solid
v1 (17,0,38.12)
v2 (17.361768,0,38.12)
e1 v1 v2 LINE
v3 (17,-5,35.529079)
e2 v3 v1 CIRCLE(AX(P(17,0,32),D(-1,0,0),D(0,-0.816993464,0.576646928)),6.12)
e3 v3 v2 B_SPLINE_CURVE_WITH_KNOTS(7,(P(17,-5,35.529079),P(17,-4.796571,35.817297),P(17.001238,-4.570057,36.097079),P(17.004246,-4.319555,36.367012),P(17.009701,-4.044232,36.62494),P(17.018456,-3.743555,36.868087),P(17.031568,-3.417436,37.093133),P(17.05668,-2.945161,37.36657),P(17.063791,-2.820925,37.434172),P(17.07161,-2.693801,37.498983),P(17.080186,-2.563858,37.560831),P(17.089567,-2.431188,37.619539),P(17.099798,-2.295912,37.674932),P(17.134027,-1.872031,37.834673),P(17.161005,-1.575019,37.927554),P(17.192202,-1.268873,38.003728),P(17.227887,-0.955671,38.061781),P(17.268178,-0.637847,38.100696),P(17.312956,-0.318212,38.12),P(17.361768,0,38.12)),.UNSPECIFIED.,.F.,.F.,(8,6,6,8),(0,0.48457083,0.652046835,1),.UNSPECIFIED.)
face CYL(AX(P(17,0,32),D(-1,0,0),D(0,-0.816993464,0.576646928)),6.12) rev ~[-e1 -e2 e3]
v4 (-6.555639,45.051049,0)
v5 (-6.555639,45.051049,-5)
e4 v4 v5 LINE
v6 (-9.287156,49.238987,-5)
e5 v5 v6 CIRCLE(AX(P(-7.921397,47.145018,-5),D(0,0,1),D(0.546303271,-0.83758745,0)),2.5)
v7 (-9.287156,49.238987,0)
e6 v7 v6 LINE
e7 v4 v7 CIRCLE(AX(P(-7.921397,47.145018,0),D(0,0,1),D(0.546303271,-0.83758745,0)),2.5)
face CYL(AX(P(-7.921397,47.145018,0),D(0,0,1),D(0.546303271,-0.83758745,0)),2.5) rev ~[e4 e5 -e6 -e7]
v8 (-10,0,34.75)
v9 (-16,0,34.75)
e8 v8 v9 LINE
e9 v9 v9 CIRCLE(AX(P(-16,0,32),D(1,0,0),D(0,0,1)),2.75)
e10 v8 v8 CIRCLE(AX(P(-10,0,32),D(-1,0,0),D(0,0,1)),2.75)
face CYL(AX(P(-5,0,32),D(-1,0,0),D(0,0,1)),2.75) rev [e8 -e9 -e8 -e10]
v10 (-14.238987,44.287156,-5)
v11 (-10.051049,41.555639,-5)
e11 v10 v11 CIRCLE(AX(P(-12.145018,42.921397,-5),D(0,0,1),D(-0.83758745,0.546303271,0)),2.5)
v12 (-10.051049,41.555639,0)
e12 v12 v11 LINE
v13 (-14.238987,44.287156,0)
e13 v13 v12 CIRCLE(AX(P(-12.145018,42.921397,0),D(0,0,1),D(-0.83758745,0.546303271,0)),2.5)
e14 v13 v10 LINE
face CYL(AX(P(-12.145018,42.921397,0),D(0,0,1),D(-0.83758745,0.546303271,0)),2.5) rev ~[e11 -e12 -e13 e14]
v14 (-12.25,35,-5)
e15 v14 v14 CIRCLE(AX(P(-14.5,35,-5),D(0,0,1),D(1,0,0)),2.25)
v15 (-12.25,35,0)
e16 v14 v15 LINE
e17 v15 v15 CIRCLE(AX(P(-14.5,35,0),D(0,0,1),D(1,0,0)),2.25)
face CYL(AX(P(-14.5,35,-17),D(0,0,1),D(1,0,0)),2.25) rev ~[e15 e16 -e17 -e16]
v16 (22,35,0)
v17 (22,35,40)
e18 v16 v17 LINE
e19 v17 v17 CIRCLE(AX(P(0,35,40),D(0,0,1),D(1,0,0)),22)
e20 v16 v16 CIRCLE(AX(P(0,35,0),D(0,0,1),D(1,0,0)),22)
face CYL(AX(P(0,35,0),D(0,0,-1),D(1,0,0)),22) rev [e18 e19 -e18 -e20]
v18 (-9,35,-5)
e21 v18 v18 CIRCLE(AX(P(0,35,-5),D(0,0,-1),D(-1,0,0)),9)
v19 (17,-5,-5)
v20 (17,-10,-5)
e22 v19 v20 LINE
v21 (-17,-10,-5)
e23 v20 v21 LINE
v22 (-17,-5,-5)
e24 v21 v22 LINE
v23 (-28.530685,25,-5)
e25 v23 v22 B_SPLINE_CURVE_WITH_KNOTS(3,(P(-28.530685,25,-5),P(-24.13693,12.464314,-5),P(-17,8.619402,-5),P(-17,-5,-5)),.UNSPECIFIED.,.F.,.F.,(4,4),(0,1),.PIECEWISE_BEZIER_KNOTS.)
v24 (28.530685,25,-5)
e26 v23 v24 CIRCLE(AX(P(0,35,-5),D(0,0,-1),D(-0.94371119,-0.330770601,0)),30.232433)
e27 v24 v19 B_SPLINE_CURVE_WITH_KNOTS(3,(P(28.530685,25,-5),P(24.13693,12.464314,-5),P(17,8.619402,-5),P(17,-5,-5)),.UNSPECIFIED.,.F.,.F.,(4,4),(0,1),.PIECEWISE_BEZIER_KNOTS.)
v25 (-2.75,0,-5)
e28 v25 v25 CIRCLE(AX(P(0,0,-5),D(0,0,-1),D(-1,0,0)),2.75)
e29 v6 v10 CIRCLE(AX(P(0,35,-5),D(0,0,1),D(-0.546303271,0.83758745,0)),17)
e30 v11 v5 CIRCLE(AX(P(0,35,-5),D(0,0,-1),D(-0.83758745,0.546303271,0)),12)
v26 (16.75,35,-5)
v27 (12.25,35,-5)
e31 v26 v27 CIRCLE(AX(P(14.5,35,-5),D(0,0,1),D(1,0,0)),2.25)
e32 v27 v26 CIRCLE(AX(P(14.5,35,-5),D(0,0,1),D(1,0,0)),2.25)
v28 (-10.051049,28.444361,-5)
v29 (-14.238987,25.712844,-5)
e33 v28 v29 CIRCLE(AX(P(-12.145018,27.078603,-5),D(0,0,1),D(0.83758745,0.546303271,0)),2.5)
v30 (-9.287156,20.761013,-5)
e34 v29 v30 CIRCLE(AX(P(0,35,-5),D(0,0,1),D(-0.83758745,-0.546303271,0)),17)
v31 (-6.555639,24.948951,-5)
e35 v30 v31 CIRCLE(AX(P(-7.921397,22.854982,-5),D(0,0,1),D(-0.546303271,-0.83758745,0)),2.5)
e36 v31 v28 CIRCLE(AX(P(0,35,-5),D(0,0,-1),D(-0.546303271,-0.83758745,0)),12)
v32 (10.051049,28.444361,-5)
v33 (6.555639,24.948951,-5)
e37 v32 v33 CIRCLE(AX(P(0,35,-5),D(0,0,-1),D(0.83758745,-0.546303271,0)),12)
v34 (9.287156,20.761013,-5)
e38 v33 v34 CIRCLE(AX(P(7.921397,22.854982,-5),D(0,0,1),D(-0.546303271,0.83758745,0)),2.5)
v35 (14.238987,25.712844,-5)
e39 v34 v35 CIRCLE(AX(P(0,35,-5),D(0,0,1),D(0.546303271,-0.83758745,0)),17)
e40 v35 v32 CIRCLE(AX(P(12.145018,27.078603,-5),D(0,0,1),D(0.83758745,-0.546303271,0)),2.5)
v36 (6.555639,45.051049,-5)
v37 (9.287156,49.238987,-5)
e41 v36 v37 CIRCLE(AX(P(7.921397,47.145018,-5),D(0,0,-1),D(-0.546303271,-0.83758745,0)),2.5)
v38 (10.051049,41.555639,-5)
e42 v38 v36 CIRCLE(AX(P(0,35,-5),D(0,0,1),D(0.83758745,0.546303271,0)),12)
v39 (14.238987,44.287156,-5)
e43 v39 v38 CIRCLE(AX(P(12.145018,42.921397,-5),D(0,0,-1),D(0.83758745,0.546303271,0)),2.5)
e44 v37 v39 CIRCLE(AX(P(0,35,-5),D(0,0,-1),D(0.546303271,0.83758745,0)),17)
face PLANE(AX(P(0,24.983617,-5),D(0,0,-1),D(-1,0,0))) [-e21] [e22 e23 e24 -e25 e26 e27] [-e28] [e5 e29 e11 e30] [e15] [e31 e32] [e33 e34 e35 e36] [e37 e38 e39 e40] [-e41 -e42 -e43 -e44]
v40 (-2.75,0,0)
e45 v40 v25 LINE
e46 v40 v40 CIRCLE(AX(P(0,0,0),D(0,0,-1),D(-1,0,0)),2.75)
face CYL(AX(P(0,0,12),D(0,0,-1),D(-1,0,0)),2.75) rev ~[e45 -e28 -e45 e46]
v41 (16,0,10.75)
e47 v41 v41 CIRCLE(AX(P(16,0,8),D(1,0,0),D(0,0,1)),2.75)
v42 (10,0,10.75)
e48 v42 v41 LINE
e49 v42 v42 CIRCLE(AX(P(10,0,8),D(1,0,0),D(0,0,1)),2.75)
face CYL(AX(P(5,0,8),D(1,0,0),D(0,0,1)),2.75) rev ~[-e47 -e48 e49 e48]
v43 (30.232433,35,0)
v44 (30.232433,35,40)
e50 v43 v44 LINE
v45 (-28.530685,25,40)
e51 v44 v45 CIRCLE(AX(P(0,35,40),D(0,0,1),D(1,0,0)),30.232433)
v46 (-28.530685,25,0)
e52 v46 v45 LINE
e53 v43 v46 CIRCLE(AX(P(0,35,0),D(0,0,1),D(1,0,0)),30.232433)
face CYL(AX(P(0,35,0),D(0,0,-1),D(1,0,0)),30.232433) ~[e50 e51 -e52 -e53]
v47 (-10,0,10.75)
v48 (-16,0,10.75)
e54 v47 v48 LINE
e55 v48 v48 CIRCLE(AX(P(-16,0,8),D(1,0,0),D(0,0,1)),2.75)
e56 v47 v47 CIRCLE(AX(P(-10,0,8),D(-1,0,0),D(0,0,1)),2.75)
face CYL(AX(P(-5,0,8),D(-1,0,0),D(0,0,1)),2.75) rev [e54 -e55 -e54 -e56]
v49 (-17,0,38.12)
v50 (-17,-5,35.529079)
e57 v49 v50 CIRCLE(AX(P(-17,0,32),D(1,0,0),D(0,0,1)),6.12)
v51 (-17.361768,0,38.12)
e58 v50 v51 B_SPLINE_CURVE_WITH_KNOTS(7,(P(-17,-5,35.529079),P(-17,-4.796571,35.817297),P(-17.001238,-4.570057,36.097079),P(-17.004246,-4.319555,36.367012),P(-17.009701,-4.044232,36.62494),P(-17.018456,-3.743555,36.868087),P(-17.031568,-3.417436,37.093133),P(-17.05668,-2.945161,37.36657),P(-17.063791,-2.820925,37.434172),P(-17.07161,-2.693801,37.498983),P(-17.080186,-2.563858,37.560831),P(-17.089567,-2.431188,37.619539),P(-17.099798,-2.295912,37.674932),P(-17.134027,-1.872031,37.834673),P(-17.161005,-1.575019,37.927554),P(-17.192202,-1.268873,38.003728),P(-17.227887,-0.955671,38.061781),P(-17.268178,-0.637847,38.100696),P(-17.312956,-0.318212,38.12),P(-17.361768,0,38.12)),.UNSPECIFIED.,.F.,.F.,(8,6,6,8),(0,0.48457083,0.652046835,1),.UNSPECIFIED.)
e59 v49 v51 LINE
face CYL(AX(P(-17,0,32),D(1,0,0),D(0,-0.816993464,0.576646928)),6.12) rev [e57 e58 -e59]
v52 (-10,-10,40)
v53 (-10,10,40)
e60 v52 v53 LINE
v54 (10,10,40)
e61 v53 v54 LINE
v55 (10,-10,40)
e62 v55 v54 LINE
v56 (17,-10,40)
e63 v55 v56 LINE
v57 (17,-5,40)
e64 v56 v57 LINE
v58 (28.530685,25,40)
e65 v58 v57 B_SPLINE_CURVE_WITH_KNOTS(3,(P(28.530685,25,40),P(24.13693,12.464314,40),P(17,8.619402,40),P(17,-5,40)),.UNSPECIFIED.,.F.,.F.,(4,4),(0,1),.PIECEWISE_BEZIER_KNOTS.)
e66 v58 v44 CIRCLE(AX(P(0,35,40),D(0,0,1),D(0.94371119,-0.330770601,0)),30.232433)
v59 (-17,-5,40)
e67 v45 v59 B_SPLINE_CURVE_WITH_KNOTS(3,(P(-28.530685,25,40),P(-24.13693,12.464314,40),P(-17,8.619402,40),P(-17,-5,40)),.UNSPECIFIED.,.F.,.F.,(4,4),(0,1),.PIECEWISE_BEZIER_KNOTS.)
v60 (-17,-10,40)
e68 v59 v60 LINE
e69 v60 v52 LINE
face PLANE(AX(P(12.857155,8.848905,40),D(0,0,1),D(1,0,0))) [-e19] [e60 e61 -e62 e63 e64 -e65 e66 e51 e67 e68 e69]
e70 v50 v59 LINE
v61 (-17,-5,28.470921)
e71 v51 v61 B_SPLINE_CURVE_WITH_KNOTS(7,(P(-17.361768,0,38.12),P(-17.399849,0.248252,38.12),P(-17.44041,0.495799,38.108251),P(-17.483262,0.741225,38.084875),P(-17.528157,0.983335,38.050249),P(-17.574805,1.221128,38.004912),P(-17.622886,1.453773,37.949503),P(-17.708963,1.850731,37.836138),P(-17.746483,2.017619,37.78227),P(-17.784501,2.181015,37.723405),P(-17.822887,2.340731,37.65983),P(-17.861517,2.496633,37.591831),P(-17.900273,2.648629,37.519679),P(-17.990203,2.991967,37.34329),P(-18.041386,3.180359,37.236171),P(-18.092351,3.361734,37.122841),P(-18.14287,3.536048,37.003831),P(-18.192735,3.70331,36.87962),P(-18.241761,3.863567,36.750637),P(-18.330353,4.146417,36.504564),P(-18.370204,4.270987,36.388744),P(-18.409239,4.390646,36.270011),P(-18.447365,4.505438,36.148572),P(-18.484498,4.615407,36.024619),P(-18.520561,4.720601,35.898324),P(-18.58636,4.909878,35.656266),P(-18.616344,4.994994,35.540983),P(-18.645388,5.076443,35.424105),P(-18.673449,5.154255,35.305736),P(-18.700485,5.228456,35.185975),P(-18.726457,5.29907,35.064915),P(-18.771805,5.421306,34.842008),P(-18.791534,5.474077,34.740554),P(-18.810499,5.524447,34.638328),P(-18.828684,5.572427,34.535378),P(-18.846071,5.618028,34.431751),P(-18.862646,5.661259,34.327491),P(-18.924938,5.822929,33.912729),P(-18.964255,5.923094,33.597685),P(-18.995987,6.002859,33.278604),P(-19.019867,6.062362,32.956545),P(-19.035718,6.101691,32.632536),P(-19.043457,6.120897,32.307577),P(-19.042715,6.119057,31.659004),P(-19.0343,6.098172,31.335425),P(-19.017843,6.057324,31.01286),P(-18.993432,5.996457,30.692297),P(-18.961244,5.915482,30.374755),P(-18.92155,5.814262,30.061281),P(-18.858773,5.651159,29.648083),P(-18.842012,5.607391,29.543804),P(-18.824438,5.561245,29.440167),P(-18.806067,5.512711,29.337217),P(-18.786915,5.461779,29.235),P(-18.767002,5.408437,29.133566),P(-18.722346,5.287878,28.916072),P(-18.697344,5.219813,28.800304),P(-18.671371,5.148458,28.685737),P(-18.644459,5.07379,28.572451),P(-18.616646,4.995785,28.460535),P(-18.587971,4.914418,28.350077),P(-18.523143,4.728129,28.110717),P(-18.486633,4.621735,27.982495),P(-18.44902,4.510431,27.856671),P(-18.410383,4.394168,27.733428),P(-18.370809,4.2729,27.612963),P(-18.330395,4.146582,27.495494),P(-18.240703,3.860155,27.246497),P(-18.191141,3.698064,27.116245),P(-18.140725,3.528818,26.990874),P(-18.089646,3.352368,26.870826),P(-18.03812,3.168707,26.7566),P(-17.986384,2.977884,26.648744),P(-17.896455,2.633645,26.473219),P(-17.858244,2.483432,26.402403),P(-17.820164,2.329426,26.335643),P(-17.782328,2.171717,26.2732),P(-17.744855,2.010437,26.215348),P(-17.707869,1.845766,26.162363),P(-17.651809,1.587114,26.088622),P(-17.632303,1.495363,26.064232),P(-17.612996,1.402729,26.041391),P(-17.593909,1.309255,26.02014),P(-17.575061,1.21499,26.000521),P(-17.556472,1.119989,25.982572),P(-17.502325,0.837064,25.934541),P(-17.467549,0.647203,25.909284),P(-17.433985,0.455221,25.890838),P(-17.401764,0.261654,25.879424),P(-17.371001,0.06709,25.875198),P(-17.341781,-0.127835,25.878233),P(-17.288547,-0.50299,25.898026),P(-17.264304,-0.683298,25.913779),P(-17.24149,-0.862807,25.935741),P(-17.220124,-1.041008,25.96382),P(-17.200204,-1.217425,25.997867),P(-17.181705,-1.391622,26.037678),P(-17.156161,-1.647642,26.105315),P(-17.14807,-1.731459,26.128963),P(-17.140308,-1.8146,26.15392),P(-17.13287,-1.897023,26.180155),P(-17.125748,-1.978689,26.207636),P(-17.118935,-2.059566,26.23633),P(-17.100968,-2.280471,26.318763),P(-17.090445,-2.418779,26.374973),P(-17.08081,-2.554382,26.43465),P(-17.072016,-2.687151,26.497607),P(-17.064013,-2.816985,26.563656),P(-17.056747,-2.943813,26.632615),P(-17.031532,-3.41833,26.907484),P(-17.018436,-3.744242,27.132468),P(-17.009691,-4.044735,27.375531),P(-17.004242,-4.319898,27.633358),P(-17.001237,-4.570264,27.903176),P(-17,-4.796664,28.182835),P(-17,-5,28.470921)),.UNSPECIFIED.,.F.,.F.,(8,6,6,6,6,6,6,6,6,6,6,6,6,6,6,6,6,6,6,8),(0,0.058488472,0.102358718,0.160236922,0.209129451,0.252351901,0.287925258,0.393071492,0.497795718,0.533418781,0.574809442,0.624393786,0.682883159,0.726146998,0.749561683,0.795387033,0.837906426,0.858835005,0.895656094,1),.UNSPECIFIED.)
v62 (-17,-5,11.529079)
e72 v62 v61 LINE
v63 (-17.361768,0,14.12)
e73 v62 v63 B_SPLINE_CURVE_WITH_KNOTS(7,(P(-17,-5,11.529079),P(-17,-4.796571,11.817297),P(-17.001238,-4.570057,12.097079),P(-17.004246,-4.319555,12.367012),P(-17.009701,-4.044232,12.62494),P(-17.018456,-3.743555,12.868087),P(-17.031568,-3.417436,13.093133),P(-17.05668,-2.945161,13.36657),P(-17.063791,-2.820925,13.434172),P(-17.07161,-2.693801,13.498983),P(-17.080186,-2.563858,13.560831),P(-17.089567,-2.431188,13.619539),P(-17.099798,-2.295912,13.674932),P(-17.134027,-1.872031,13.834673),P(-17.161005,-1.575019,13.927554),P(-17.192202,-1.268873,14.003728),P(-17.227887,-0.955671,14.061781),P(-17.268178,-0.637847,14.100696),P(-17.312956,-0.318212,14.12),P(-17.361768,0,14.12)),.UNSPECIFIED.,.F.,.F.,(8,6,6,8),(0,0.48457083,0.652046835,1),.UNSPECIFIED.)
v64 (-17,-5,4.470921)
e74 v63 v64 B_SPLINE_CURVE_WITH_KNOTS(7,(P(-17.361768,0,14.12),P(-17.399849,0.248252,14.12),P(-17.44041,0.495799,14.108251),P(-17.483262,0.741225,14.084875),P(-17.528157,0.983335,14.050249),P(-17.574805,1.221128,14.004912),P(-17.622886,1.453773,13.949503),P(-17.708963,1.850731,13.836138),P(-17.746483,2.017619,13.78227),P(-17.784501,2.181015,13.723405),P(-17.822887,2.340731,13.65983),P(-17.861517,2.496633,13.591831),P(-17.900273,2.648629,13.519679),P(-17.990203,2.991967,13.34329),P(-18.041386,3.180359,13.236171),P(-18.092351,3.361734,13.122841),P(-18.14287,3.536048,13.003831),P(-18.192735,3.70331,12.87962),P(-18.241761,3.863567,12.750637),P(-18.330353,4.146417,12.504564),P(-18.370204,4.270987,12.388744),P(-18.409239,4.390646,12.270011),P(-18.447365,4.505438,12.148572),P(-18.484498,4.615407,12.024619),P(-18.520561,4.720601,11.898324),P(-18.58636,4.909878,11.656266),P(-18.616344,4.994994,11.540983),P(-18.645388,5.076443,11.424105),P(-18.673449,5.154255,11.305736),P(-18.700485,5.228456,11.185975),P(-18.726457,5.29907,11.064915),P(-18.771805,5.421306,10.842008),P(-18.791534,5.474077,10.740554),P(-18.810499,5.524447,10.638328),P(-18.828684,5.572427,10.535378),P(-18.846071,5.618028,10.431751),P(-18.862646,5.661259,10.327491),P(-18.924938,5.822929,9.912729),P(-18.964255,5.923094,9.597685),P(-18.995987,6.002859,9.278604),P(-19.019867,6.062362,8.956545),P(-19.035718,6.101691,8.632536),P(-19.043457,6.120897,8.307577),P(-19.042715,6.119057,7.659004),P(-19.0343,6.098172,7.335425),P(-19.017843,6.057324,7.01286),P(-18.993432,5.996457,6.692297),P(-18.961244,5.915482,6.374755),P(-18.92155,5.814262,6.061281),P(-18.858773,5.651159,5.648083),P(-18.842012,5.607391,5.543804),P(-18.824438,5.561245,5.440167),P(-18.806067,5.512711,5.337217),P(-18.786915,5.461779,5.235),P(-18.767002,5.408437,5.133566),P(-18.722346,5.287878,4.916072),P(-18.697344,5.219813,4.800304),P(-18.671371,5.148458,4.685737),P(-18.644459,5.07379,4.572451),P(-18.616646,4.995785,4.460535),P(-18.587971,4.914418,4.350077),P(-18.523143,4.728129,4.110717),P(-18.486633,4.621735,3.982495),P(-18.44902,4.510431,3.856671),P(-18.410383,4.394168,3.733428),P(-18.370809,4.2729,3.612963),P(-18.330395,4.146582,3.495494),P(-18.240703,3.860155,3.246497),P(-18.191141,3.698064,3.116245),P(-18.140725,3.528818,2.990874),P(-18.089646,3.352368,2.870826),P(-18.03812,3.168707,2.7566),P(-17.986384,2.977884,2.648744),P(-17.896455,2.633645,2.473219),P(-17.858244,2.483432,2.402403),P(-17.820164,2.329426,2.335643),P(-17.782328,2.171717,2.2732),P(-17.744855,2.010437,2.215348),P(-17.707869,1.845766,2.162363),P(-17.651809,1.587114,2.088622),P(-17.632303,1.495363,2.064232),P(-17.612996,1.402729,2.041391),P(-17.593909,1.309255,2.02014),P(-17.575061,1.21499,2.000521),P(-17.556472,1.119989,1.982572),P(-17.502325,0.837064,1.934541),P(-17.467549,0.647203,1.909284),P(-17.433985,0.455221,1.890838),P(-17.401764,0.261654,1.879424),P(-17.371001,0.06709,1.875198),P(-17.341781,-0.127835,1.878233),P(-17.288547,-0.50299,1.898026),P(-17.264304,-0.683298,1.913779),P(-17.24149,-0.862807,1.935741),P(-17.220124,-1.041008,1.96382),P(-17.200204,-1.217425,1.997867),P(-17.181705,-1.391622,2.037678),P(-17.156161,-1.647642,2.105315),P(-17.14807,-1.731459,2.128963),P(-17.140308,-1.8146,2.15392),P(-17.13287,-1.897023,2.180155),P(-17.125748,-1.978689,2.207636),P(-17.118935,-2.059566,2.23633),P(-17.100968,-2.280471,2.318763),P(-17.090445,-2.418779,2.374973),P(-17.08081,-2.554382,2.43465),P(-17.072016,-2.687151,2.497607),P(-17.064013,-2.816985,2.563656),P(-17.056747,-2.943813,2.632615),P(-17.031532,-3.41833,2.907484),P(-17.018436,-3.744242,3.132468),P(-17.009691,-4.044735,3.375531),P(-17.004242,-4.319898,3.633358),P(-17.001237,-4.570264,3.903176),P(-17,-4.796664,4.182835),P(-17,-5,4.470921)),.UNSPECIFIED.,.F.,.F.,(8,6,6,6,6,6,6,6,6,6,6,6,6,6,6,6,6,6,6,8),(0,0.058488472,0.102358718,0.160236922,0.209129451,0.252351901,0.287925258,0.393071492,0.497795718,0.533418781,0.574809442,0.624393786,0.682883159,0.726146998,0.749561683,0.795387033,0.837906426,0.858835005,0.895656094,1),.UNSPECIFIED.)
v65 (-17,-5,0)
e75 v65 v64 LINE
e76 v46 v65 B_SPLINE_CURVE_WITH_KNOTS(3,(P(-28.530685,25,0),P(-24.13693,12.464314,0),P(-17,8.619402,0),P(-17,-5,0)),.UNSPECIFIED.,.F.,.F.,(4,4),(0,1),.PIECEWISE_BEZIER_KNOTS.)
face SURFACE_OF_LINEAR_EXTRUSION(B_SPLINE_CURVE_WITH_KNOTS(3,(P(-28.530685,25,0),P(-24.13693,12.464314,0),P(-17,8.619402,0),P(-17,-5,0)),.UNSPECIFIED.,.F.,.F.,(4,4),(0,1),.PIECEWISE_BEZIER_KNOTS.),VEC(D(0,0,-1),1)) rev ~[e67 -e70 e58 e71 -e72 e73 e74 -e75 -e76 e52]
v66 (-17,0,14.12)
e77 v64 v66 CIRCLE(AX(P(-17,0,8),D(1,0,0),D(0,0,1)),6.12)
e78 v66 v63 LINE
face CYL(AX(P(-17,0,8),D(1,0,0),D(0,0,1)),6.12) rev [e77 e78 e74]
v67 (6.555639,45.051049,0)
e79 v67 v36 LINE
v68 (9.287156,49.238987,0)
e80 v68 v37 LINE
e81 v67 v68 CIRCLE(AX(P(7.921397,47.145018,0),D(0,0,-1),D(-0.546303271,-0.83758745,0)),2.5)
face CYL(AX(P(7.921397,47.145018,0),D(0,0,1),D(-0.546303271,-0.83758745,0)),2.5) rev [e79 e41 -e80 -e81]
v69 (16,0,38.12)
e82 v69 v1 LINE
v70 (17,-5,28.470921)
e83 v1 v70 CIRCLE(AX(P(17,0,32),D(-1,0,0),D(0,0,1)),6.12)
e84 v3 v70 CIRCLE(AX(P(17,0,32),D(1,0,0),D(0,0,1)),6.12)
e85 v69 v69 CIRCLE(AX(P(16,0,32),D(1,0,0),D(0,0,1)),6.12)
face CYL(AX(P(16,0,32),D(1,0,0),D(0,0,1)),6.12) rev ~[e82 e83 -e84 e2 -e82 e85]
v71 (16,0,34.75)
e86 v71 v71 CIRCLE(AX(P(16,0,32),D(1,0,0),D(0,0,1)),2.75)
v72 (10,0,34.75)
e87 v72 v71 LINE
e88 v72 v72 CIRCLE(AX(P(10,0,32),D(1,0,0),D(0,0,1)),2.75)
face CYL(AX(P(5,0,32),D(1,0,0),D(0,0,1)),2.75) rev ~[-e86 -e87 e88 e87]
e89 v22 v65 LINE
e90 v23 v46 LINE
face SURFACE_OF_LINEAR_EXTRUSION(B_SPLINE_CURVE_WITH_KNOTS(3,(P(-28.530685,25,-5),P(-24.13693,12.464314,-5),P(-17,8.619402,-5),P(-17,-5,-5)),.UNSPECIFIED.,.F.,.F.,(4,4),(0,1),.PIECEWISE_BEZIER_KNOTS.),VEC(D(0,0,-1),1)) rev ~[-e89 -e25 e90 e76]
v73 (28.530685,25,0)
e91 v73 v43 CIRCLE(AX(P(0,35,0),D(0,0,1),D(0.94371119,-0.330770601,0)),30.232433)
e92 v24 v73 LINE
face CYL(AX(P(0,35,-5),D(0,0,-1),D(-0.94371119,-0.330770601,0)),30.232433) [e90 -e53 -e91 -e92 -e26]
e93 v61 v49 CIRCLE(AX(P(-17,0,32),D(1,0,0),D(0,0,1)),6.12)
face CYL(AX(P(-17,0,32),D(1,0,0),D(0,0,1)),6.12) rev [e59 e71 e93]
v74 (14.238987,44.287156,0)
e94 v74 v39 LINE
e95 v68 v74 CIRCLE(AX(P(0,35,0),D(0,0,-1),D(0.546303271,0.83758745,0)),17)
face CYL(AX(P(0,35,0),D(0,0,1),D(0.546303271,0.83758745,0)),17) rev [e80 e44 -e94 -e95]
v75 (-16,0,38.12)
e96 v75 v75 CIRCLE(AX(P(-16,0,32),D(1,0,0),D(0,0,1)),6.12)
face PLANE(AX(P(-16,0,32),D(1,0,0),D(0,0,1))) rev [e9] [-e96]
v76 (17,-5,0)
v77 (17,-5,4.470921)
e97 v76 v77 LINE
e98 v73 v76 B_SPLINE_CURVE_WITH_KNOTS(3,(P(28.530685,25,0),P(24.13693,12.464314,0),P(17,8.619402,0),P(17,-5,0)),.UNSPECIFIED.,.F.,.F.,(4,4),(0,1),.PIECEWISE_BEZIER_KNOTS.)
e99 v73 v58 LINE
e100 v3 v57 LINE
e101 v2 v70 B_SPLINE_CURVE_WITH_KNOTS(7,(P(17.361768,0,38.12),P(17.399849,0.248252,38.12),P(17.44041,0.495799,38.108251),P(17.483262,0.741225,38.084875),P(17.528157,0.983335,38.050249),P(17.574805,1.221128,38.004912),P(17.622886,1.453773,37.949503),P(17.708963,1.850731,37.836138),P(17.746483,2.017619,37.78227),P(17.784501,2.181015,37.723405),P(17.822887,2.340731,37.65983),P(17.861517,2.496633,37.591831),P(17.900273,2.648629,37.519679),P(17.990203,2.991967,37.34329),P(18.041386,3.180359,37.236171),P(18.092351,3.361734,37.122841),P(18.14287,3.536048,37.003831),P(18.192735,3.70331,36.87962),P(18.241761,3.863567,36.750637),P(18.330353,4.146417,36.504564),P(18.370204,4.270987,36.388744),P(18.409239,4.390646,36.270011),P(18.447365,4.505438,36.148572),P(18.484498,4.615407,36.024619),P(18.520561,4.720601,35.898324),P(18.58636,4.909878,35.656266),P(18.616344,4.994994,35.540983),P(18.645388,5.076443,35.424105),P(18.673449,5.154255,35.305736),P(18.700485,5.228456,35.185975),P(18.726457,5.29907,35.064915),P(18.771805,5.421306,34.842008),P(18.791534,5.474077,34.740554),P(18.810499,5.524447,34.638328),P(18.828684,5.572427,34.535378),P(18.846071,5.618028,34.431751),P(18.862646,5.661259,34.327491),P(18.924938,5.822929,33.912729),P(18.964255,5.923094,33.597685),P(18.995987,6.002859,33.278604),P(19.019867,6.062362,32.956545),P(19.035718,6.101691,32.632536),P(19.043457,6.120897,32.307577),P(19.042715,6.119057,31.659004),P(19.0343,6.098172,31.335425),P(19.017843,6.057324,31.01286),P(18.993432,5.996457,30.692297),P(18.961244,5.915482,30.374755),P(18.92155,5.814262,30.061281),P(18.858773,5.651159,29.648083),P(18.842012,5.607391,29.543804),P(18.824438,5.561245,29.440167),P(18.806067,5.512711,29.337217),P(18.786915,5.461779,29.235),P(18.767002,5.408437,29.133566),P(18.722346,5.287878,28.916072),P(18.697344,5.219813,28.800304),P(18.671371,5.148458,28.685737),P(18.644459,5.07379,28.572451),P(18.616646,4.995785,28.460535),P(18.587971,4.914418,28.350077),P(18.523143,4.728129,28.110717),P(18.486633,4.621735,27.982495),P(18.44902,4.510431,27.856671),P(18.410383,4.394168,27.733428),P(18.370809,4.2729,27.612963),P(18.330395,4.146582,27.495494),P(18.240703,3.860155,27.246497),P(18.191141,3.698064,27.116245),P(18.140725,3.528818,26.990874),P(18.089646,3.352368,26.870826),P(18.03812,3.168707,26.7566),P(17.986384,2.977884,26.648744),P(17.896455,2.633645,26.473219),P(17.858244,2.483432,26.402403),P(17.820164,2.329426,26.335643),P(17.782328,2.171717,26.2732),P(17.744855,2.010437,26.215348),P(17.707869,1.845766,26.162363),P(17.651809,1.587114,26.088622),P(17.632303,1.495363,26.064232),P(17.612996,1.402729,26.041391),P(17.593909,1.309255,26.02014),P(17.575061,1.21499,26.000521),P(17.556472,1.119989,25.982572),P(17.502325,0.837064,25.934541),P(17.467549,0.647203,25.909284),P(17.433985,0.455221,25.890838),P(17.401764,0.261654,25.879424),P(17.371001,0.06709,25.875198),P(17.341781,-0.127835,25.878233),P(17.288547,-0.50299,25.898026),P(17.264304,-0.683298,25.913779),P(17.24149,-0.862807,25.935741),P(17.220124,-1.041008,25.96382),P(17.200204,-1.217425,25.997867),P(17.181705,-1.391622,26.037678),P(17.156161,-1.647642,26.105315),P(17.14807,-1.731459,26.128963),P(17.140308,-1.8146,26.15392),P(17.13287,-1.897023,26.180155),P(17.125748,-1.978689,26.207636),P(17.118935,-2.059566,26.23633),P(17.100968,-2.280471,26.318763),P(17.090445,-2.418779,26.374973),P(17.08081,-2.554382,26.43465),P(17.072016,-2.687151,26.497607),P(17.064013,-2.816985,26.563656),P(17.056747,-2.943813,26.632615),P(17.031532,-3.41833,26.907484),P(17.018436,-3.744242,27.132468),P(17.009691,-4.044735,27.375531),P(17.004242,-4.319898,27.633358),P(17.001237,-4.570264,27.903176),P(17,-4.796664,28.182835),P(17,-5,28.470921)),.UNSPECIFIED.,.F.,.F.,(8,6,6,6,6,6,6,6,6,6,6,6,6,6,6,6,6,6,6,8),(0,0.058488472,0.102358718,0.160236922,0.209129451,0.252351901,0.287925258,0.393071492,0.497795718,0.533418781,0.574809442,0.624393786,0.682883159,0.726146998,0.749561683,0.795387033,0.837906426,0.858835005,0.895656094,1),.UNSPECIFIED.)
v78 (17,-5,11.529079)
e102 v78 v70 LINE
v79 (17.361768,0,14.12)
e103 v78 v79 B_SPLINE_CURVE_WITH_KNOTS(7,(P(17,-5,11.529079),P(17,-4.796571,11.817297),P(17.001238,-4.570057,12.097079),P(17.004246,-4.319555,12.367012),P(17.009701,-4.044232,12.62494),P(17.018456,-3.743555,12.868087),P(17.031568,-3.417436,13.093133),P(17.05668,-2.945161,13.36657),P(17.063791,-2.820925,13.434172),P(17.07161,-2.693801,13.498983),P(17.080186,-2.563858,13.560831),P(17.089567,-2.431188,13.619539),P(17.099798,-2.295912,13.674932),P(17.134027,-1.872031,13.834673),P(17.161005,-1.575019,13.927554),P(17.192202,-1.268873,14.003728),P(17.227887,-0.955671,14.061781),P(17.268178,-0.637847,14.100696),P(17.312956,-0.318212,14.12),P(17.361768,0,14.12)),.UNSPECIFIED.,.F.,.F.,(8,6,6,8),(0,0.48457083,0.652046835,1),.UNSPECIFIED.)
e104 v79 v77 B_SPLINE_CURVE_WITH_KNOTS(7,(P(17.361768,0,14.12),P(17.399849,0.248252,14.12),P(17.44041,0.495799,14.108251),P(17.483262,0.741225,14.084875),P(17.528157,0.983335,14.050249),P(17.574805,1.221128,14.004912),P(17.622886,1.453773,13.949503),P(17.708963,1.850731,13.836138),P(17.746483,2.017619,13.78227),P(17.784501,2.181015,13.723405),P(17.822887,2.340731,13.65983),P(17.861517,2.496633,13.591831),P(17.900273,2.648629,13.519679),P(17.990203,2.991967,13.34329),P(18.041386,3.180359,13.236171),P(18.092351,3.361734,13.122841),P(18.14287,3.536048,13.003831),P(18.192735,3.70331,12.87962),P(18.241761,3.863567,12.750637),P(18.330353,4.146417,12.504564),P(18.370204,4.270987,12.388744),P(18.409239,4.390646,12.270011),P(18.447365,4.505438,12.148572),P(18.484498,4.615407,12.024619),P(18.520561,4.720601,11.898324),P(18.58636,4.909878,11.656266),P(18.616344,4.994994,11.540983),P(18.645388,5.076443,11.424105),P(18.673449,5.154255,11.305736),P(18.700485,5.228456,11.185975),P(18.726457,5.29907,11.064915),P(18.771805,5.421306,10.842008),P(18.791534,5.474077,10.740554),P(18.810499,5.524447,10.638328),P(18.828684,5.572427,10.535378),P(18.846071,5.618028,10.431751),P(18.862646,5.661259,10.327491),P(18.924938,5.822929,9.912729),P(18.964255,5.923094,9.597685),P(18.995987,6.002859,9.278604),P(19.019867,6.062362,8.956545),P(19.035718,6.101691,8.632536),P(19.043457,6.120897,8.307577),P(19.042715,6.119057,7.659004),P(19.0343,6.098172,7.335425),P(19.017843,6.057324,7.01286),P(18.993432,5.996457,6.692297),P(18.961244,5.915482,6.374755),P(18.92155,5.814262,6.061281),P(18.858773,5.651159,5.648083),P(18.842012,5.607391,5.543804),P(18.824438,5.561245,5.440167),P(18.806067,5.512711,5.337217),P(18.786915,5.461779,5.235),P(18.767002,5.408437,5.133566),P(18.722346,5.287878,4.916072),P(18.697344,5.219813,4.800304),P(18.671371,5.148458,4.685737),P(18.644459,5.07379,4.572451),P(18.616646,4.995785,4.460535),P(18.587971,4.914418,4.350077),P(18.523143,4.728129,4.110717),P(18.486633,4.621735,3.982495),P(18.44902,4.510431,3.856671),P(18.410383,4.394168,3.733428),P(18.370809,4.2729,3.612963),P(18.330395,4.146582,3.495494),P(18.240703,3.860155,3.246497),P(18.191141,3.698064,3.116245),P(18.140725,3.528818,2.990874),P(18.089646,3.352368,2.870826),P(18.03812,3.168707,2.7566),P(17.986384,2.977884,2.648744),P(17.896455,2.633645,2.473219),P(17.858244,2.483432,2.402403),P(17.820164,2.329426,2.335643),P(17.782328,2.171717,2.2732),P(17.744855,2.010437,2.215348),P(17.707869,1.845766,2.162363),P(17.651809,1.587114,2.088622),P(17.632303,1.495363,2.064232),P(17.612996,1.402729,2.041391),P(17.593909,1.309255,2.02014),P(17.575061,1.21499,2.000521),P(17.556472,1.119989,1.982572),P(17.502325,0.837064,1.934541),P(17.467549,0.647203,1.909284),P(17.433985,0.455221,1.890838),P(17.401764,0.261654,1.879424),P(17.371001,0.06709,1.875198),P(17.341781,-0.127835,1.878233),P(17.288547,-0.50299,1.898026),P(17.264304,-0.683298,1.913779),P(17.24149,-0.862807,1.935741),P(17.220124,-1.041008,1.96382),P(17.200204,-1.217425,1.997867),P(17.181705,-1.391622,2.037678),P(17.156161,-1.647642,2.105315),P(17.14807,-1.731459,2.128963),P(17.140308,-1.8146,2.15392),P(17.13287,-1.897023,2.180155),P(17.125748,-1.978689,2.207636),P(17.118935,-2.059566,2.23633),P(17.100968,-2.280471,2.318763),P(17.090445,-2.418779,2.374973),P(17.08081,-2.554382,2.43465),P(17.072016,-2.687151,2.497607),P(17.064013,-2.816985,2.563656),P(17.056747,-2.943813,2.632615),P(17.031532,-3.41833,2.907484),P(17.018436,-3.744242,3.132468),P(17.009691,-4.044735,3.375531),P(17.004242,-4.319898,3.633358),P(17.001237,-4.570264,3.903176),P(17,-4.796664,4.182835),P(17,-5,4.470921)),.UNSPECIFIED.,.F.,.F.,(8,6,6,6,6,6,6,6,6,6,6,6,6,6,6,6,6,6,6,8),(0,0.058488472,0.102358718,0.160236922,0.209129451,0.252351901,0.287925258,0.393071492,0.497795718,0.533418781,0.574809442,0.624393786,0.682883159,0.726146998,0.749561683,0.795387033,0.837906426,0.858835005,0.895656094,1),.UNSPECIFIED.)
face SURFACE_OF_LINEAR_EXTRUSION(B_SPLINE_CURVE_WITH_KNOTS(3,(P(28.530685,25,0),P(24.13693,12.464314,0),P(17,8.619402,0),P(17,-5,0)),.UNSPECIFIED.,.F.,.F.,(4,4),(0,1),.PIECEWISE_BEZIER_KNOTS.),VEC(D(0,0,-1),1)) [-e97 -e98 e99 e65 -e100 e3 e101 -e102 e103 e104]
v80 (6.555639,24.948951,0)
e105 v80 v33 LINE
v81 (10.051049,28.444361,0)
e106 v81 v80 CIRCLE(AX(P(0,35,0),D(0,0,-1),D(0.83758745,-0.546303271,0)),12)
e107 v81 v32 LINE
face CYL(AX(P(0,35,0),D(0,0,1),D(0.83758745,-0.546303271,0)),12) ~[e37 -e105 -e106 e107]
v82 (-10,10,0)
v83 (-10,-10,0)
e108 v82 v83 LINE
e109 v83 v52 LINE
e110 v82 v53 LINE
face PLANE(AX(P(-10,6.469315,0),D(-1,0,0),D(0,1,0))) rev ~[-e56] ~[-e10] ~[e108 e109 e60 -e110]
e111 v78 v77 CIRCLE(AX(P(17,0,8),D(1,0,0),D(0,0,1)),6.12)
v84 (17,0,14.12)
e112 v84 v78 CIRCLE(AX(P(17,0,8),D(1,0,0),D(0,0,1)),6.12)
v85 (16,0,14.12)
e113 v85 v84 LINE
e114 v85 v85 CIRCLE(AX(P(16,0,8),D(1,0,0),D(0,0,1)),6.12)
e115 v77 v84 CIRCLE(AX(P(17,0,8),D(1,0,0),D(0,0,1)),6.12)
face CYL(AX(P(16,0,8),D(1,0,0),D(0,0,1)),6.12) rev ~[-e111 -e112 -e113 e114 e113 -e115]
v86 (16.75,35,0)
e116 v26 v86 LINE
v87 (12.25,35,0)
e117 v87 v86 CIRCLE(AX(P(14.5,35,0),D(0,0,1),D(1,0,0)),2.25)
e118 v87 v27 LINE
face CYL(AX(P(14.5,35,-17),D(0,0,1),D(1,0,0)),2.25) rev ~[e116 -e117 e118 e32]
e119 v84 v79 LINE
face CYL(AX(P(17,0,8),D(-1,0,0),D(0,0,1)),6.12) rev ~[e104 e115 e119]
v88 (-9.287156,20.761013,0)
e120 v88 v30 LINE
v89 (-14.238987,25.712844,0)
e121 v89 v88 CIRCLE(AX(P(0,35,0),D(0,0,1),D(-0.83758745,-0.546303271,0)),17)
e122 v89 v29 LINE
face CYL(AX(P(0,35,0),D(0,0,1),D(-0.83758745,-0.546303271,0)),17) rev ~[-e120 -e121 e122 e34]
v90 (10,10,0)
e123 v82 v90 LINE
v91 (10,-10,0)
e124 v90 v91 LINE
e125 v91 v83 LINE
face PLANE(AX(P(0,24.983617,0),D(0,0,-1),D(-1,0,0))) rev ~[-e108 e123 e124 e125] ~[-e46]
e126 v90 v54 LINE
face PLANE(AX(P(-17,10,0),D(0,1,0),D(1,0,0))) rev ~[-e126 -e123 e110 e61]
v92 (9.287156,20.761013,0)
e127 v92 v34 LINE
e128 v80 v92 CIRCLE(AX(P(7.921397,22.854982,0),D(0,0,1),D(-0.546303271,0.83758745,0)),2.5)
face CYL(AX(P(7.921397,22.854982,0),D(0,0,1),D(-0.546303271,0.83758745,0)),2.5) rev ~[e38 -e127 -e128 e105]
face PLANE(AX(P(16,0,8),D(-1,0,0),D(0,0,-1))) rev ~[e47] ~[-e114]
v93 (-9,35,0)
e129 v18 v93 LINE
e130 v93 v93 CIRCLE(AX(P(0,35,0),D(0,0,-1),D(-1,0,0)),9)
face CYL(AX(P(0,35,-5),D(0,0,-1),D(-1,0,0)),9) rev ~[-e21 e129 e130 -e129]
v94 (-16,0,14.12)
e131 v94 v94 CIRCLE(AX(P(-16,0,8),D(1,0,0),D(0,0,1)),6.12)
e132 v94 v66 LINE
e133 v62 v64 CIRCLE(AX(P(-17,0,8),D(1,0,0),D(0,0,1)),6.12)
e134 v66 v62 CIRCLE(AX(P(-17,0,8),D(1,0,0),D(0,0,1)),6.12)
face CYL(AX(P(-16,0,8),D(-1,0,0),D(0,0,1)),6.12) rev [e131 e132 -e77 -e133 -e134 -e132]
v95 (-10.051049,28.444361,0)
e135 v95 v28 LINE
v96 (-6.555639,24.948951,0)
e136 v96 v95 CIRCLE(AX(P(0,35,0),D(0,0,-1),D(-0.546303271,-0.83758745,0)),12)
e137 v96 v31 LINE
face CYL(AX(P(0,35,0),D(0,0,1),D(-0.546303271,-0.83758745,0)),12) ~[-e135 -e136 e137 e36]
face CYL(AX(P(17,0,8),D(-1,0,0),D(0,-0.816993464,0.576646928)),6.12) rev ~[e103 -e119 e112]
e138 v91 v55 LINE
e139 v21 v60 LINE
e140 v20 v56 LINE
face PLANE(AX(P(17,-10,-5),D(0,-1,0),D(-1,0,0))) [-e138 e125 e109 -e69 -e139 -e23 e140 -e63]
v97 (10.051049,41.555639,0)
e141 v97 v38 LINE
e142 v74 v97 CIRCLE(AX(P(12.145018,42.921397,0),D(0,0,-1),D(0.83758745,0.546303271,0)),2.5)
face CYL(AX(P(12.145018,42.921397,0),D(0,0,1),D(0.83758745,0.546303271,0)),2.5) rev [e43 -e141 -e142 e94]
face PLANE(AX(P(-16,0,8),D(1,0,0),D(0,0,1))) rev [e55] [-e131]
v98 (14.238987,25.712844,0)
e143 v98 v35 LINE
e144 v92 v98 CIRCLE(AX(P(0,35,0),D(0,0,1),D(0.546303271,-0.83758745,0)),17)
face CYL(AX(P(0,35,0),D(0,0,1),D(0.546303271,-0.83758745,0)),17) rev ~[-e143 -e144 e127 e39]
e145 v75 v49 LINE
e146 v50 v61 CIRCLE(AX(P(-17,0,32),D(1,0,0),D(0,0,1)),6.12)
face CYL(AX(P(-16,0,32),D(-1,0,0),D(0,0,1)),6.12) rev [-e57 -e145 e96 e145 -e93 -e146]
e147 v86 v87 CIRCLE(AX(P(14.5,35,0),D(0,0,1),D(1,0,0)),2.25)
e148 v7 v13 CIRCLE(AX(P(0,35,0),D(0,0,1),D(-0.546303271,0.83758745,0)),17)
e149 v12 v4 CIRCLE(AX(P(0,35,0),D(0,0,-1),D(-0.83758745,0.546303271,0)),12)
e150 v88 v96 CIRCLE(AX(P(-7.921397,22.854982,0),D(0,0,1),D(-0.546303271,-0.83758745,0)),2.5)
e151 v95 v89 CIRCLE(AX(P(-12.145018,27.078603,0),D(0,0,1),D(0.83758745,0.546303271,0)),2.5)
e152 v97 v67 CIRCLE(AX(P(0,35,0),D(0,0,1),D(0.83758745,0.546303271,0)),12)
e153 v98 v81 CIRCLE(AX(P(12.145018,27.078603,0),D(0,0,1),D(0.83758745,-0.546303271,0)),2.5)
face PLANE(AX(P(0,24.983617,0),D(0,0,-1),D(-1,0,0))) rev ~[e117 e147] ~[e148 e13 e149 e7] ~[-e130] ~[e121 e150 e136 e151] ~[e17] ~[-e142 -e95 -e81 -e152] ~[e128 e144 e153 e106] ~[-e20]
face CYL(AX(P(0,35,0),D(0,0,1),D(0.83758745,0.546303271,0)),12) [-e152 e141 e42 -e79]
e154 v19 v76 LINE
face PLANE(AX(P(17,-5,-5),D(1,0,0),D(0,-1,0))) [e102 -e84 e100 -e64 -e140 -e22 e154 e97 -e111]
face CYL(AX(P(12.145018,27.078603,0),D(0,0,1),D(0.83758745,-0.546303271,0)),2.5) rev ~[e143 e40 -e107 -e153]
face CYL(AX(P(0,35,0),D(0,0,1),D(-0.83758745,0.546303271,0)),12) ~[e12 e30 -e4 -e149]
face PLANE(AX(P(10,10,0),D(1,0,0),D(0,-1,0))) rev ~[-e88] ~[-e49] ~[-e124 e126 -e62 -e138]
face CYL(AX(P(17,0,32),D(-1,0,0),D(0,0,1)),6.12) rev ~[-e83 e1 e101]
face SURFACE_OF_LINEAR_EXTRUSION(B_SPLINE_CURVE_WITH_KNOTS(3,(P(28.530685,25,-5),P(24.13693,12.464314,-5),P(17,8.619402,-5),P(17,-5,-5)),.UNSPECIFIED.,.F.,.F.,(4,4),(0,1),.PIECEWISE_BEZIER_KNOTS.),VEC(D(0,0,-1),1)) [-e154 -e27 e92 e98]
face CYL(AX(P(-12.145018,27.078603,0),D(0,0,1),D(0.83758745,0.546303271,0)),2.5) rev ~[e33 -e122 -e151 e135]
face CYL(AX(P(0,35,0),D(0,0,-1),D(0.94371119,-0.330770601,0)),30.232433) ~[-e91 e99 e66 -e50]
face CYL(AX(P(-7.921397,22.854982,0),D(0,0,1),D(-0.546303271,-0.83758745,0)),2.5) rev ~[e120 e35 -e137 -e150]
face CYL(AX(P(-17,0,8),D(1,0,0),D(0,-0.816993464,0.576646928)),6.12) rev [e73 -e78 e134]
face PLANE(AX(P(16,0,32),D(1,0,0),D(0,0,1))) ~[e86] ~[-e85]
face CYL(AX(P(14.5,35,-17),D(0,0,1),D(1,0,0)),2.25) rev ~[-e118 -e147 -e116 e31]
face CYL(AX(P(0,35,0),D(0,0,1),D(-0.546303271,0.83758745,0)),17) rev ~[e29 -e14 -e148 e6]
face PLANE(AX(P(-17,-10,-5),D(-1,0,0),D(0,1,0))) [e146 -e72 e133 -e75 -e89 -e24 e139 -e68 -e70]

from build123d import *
from build123d.topology import SkipClean

# Parameters (mm, degrees)
SKETCH1_R                              = 22
BOSS_EXTRUDE1_DEPTH                    = 40
CBORE_FOR_M5_HEX_HEAD_BOLT1_AT_2_COUNT = 2
CBORE_FOR_M5_HEX_HEAD_BOLT1_AT_2_PITCH = 24
CUT_EXTRUDE1_DEPTH                     = 90.923150822
BOSS_EXTRUDE2_START                    = 5
SKETCH6_R                              = 9
BOSS_EXTRUDE2_DEPTH                    = 5
M5_CLEARANCE_HOLE1_D                   = 5.5
M5_CLEARANCE_HOLE1_DEPTH               = 12
M5_CLEARANCE_HOLE1_TIP                 = 1.652366702
M4_CLEARANCE_HOLE1_D                   = 4.5
M4_CLEARANCE_HOLE1_DEPTH               = 12
M4_CLEARANCE_HOLE1_TIP                 = 1.351936393
CUT_EXTRUDE2_START                     = -5
SKETCH11_R                             = 2.25
CUT_EXTRUDE2_DEPTH                     = 5


with BuildPart() as part:
    # Sketch1 → Boss-Extrude1 (new body)
    # profile 1 of 7: a face of its own
    with BuildSketch(Plane.XY):
        with BuildLine():
            Line((-17, 10), (-10, 10))
            Line((-10, 10), (10, 10))
            Line((10, 10), (17, 10))
            ThreePointArc((17, 10), (23.968955432, 16.574767966), (28.530685235, 25))
            ThreePointArc((28.530685235, 25), (29.803959698, 29.928118072), (30.232432916, 35))
            ThreePointArc((30.232432916, 35), (-5.071881928, 64.803959698), (-28.530685235, 25))
            ThreePointArc((-28.530685235, 25), (-23.968955432, 16.574767966), (-17, 10))
        make_face()
        with Locations((0, 35)):
            Circle(SKETCH1_R, mode=Mode.SUBTRACT)
    # profile 2 of 7: a face of its own
    with BuildSketch(Plane.XY):
        with BuildLine():
            Line((-17, -5), (-17, 10))
            ThreePointArc((-17, 10), (-23.968955432, 16.574767966), (-28.530685235, 25))
            add(Edge.make_bspline(
                [(-28.530685235, 25), (-24.136929726, 12.464314457), (-17, 8.619402075), (-17, -5)],
                knots=[0, 0, 0, 0, 1, 1, 1, 1], degree=3))
        make_face()
    # profile 3 of 7: a face of its own
    with BuildSketch(Plane.XY):
        with BuildLine():
            Line((-17, -10), (-10, -10))
            Line((-10, -10), (-10, 6.469314765))
            ThreePointArc((-10, 6.469314765), (-13.614934247, 8.006786678), (-17, 10))
            Line((-17, 10), (-17, -5))
            Line((-17, -5), (-17, -10))
        make_face()
    # profile 4 of 7: a face of its own
    with BuildSketch(Plane.XY):
        with BuildLine():
            Line((10, 6.469314765), (10, -10))
            Line((10, -10), (17, -10))
            Line((17, -10), (17, -5))
            Line((17, -5), (17, 10))
            ThreePointArc((17, 10), (13.614934247, 8.006786678), (10, 6.469314765))
        make_face()
    # profile 5 of 7: a face of its own
    with BuildSketch(Plane.XY):
        with BuildLine():
            ThreePointArc((28.530685235, 25), (23.968955432, 16.574767966), (17, 10))
            Line((17, 10), (17, -5))
            add(Edge.make_bspline(
                [(28.530685235, 25), (24.136929726, 12.464314457), (17, 8.619402075), (17, -5)],
                knots=[0, 0, 0, 0, 1, 1, 1, 1], degree=3))
        make_face()
    # profile 6 of 7: a face of its own
    with BuildSketch(Plane.XY):
        with BuildLine():
            ThreePointArc((-17, 10), (-13.614934247, 8.006786678), (-10, 6.469314765))
            Line((-10, 6.469314765), (-10, 10))
            Line((-10, 10), (-17, 10))
        make_face()
    # profile 7 of 7: a face of its own
    with BuildSketch(Plane.XY):
        with BuildLine():
            Line((10, 10), (10, 6.469314765))
            ThreePointArc((10, 6.469314765), (13.614934247, 8.006786678), (17, 10))
            Line((17, 10), (10, 10))
        make_face()
    extrude(amount=BOSS_EXTRUDE1_DEPTH)

    # Sketch4 → CBORE for M5 Hex Head Bolt1 (revolve, cut)
    with BuildSketch(Plane(origin=(-17, 0, 8), x_dir=(0, 0, 1), z_dir=(0, 1, 0))):
        Polygon((0, 0), (0, 13.652366702), (2.75, 12), (2.75, 1), (6.12, 1), (6.12, 0), align=None)
    cbore_for_m5_hex_head_bolt1 = revolve(axis=Axis((-23.35, 0, 8), (1, 0, 0)), mode=Mode.SUBTRACT)

    # CBORE for M5 Hex Head Bolt1 at 2: CBORE for M5 Hex Head Bolt1 ×2
    with Locations(*[(0, 0, i * CBORE_FOR_M5_HEX_HEAD_BOLT1_AT_2_PITCH) for i in range(1, CBORE_FOR_M5_HEX_HEAD_BOLT1_AT_2_COUNT)]):
        add(cbore_for_m5_hex_head_bolt1, mode=Mode.SUBTRACT)

    # Sketch5 → Cut-Extrude1 (cut, through all)
    with BuildSketch(Plane.ZY.offset(17)):
        with BuildLine():
            ThreePointArc((14.12, 0), (5.184290916, 5.433799992), (4.4709208, -5))
            ThreePointArc((4.4709208, -5), (8, -6.12), (11.5290792, -5))
            ThreePointArc((11.5290792, -5), (13.433799992, -2.815709084), (14.12, 0))
        make_face()
        with BuildLine():
            ThreePointArc((38.12, 0), (29.184290916, 5.433799992), (28.4709208, -5))
            ThreePointArc((28.4709208, -5), (32, -6.12), (35.5290792, -5))
            ThreePointArc((35.5290792, -5), (37.433799992, -2.815709084), (38.12, 0))
        make_face()
    cut_extrude1 = extrude(amount=CUT_EXTRUDE1_DEPTH, mode=Mode.SUBTRACT)

    # Mirror1: CBORE for M5 Hex Head Bolt1, Cut-Extrude1 across plane
    add(cbore_for_m5_hex_head_bolt1.mirror(Plane(origin=(0, 0, 0), x_dir=(0, 0, 1), z_dir=(1, 0, 0))), mode=Mode.SUBTRACT)
    add(cut_extrude1.mirror(Plane(origin=(0, 0, 0), x_dir=(0, 0, 1), z_dir=(1, 0, 0))), mode=Mode.SUBTRACT)

    # Mirror1 copy 1 sketch → Mirror1 copy 1 (revolve, cut)
    with BuildSketch(Plane(origin=(17, 0, 32), x_dir=(0, 0, 1), z_dir=(0, 1, 0))):
        Polygon((0, 0), (0, -13.652366702), (2.75, -12), (2.75, -1), (6.12, -1), (6.12, 0), align=None)
    revolve(axis=Axis((23.35, 0, 32), (1, 0, 0)), mode=Mode.SUBTRACT)

    # Sketch6 → Boss-Extrude2 (add)
    with SkipClean():  # the faces are left unmerged after this step: merging them gives an invalid solid
        with BuildSketch(Plane(origin=(0, 0, 0), x_dir=(-1, 0, 0), z_dir=(0, 0, -1)).offset(BOSS_EXTRUDE2_START)):
            with BuildLine():
                Line((17, -10), (17, -5))
                add(Edge.make_bspline(
                    [(28.530685235, 25), (24.136929726, 12.464314457), (17, 8.619402075), (17, -5)],
                    knots=[0, 0, 0, 0, 1, 1, 1, 1], degree=3))
                ThreePointArc((28.530685235, 25), (0, 65.232432916), (-28.530685235, 25))
                add(Edge.make_bspline(
                    [(-28.530685235, 25), (-24.136929726, 12.464314457), (-17, 8.619402075), (-17, -5)],
                    knots=[0, 0, 0, 0, 1, 1, 1, 1], degree=3))
                Line((-17, -5), (-17, -10))
                Line((-17, -10), (17, -10))
            make_face()
            with Locations((0, 35)):
                Circle(SKETCH6_R, mode=Mode.SUBTRACT)
        extrude(amount=-BOSS_EXTRUDE2_DEPTH)

    # M5 Clearance Hole1
    with Locations(Plane.XY):
        with Locations((0, 0)):
            Hole(M5_CLEARANCE_HOLE1_D / 2, depth=M5_CLEARANCE_HOLE1_DEPTH)
            with Locations((0, 0, -(M5_CLEARANCE_HOLE1_DEPTH + M5_CLEARANCE_HOLE1_TIP / 2))):  # 118° drill point
                Cone(0, M5_CLEARANCE_HOLE1_D / 2, M5_CLEARANCE_HOLE1_TIP, mode=Mode.SUBTRACT)

    # M4 Clearance Hole1
    with Locations(Plane(origin=(0, 0, -5), x_dir=(-1, 0, 0), z_dir=(0, 0, -1))):
        with Locations((-14.5, 35), (14.5, 35), (0, 35)):
            Hole(M4_CLEARANCE_HOLE1_D / 2, depth=M4_CLEARANCE_HOLE1_DEPTH)
            with Locations((0, 0, -(M4_CLEARANCE_HOLE1_DEPTH + M4_CLEARANCE_HOLE1_TIP / 2))):  # 118° drill point
                Cone(0, M4_CLEARANCE_HOLE1_D / 2, M4_CLEARANCE_HOLE1_TIP, mode=Mode.SUBTRACT)

    # Sketch11 → Cut-Extrude2 (cut)
    with SkipClean():  # the faces are left unmerged after this step: merging them gives an invalid solid
        with BuildSketch(Plane(origin=(0, 0, -5), x_dir=(-1, 0, 0), z_dir=(0, 0, -1)).offset(CUT_EXTRUDE2_START)):
            with Locations((-14.5, 35)):
                Circle(SKETCH11_R)
            with BuildLine():
                ThreePointArc((-9.287155609, 49.238986646), (-12.02081528, 47.02081528), (-14.238986646, 44.287155609))
                ThreePointArc((-14.238986646, 44.287155609), (-13.510776199, 40.827428807), (-10.051049397, 41.555639253))
                ThreePointArc((-10.051049397, 41.555639253), (-8.485281374, 43.485281374), (-6.555639253, 45.051049397))
                ThreePointArc((-6.555639253, 45.051049397), (-5.827428807, 48.510776199), (-9.287155609, 49.238986646))
            make_face()
            with BuildLine():
                ThreePointArc((10.051049397, 41.555639253), (8.485281374, 43.485281374), (6.555639253, 45.051049397))
                ThreePointArc((6.555639253, 45.051049397), (5.827428807, 48.510776199), (9.287155609, 49.238986646))
                ThreePointArc((9.287155609, 49.238986646), (12.02081528, 47.02081528), (14.238986646, 44.287155609))
                ThreePointArc((14.238986646, 44.287155609), (13.510776199, 40.827428807), (10.051049397, 41.555639253))
            make_face()
            with BuildLine():
                ThreePointArc((6.555639253, 24.948950603), (8.485281374, 26.514718626), (10.051049397, 28.444360747))
                ThreePointArc((10.051049397, 28.444360747), (13.510776199, 29.172571193), (14.238986646, 25.712844391))
                ThreePointArc((14.238986646, 25.712844391), (12.02081528, 22.97918472), (9.287155609, 20.761013354))
                ThreePointArc((9.287155609, 20.761013354), (5.827428807, 21.489223801), (6.555639253, 24.948950603))
            make_face()
            with BuildLine():
                ThreePointArc((-10.051049397, 28.444360747), (-8.485281374, 26.514718626), (-6.555639253, 24.948950603))
                ThreePointArc((-6.555639253, 24.948950603), (-5.827428807, 21.489223801), (-9.287155609, 20.761013354))
                ThreePointArc((-9.287155609, 20.761013354), (-12.02081528, 22.97918472), (-14.238986646, 25.712844391))
                ThreePointArc((-14.238986646, 25.712844391), (-13.510776199, 29.172571193), (-10.051049397, 28.444360747))
            make_face()
        extrude(amount=CUT_EXTRUDE2_DEPTH, mode=Mode.SUBTRACT)


solid = part.part
